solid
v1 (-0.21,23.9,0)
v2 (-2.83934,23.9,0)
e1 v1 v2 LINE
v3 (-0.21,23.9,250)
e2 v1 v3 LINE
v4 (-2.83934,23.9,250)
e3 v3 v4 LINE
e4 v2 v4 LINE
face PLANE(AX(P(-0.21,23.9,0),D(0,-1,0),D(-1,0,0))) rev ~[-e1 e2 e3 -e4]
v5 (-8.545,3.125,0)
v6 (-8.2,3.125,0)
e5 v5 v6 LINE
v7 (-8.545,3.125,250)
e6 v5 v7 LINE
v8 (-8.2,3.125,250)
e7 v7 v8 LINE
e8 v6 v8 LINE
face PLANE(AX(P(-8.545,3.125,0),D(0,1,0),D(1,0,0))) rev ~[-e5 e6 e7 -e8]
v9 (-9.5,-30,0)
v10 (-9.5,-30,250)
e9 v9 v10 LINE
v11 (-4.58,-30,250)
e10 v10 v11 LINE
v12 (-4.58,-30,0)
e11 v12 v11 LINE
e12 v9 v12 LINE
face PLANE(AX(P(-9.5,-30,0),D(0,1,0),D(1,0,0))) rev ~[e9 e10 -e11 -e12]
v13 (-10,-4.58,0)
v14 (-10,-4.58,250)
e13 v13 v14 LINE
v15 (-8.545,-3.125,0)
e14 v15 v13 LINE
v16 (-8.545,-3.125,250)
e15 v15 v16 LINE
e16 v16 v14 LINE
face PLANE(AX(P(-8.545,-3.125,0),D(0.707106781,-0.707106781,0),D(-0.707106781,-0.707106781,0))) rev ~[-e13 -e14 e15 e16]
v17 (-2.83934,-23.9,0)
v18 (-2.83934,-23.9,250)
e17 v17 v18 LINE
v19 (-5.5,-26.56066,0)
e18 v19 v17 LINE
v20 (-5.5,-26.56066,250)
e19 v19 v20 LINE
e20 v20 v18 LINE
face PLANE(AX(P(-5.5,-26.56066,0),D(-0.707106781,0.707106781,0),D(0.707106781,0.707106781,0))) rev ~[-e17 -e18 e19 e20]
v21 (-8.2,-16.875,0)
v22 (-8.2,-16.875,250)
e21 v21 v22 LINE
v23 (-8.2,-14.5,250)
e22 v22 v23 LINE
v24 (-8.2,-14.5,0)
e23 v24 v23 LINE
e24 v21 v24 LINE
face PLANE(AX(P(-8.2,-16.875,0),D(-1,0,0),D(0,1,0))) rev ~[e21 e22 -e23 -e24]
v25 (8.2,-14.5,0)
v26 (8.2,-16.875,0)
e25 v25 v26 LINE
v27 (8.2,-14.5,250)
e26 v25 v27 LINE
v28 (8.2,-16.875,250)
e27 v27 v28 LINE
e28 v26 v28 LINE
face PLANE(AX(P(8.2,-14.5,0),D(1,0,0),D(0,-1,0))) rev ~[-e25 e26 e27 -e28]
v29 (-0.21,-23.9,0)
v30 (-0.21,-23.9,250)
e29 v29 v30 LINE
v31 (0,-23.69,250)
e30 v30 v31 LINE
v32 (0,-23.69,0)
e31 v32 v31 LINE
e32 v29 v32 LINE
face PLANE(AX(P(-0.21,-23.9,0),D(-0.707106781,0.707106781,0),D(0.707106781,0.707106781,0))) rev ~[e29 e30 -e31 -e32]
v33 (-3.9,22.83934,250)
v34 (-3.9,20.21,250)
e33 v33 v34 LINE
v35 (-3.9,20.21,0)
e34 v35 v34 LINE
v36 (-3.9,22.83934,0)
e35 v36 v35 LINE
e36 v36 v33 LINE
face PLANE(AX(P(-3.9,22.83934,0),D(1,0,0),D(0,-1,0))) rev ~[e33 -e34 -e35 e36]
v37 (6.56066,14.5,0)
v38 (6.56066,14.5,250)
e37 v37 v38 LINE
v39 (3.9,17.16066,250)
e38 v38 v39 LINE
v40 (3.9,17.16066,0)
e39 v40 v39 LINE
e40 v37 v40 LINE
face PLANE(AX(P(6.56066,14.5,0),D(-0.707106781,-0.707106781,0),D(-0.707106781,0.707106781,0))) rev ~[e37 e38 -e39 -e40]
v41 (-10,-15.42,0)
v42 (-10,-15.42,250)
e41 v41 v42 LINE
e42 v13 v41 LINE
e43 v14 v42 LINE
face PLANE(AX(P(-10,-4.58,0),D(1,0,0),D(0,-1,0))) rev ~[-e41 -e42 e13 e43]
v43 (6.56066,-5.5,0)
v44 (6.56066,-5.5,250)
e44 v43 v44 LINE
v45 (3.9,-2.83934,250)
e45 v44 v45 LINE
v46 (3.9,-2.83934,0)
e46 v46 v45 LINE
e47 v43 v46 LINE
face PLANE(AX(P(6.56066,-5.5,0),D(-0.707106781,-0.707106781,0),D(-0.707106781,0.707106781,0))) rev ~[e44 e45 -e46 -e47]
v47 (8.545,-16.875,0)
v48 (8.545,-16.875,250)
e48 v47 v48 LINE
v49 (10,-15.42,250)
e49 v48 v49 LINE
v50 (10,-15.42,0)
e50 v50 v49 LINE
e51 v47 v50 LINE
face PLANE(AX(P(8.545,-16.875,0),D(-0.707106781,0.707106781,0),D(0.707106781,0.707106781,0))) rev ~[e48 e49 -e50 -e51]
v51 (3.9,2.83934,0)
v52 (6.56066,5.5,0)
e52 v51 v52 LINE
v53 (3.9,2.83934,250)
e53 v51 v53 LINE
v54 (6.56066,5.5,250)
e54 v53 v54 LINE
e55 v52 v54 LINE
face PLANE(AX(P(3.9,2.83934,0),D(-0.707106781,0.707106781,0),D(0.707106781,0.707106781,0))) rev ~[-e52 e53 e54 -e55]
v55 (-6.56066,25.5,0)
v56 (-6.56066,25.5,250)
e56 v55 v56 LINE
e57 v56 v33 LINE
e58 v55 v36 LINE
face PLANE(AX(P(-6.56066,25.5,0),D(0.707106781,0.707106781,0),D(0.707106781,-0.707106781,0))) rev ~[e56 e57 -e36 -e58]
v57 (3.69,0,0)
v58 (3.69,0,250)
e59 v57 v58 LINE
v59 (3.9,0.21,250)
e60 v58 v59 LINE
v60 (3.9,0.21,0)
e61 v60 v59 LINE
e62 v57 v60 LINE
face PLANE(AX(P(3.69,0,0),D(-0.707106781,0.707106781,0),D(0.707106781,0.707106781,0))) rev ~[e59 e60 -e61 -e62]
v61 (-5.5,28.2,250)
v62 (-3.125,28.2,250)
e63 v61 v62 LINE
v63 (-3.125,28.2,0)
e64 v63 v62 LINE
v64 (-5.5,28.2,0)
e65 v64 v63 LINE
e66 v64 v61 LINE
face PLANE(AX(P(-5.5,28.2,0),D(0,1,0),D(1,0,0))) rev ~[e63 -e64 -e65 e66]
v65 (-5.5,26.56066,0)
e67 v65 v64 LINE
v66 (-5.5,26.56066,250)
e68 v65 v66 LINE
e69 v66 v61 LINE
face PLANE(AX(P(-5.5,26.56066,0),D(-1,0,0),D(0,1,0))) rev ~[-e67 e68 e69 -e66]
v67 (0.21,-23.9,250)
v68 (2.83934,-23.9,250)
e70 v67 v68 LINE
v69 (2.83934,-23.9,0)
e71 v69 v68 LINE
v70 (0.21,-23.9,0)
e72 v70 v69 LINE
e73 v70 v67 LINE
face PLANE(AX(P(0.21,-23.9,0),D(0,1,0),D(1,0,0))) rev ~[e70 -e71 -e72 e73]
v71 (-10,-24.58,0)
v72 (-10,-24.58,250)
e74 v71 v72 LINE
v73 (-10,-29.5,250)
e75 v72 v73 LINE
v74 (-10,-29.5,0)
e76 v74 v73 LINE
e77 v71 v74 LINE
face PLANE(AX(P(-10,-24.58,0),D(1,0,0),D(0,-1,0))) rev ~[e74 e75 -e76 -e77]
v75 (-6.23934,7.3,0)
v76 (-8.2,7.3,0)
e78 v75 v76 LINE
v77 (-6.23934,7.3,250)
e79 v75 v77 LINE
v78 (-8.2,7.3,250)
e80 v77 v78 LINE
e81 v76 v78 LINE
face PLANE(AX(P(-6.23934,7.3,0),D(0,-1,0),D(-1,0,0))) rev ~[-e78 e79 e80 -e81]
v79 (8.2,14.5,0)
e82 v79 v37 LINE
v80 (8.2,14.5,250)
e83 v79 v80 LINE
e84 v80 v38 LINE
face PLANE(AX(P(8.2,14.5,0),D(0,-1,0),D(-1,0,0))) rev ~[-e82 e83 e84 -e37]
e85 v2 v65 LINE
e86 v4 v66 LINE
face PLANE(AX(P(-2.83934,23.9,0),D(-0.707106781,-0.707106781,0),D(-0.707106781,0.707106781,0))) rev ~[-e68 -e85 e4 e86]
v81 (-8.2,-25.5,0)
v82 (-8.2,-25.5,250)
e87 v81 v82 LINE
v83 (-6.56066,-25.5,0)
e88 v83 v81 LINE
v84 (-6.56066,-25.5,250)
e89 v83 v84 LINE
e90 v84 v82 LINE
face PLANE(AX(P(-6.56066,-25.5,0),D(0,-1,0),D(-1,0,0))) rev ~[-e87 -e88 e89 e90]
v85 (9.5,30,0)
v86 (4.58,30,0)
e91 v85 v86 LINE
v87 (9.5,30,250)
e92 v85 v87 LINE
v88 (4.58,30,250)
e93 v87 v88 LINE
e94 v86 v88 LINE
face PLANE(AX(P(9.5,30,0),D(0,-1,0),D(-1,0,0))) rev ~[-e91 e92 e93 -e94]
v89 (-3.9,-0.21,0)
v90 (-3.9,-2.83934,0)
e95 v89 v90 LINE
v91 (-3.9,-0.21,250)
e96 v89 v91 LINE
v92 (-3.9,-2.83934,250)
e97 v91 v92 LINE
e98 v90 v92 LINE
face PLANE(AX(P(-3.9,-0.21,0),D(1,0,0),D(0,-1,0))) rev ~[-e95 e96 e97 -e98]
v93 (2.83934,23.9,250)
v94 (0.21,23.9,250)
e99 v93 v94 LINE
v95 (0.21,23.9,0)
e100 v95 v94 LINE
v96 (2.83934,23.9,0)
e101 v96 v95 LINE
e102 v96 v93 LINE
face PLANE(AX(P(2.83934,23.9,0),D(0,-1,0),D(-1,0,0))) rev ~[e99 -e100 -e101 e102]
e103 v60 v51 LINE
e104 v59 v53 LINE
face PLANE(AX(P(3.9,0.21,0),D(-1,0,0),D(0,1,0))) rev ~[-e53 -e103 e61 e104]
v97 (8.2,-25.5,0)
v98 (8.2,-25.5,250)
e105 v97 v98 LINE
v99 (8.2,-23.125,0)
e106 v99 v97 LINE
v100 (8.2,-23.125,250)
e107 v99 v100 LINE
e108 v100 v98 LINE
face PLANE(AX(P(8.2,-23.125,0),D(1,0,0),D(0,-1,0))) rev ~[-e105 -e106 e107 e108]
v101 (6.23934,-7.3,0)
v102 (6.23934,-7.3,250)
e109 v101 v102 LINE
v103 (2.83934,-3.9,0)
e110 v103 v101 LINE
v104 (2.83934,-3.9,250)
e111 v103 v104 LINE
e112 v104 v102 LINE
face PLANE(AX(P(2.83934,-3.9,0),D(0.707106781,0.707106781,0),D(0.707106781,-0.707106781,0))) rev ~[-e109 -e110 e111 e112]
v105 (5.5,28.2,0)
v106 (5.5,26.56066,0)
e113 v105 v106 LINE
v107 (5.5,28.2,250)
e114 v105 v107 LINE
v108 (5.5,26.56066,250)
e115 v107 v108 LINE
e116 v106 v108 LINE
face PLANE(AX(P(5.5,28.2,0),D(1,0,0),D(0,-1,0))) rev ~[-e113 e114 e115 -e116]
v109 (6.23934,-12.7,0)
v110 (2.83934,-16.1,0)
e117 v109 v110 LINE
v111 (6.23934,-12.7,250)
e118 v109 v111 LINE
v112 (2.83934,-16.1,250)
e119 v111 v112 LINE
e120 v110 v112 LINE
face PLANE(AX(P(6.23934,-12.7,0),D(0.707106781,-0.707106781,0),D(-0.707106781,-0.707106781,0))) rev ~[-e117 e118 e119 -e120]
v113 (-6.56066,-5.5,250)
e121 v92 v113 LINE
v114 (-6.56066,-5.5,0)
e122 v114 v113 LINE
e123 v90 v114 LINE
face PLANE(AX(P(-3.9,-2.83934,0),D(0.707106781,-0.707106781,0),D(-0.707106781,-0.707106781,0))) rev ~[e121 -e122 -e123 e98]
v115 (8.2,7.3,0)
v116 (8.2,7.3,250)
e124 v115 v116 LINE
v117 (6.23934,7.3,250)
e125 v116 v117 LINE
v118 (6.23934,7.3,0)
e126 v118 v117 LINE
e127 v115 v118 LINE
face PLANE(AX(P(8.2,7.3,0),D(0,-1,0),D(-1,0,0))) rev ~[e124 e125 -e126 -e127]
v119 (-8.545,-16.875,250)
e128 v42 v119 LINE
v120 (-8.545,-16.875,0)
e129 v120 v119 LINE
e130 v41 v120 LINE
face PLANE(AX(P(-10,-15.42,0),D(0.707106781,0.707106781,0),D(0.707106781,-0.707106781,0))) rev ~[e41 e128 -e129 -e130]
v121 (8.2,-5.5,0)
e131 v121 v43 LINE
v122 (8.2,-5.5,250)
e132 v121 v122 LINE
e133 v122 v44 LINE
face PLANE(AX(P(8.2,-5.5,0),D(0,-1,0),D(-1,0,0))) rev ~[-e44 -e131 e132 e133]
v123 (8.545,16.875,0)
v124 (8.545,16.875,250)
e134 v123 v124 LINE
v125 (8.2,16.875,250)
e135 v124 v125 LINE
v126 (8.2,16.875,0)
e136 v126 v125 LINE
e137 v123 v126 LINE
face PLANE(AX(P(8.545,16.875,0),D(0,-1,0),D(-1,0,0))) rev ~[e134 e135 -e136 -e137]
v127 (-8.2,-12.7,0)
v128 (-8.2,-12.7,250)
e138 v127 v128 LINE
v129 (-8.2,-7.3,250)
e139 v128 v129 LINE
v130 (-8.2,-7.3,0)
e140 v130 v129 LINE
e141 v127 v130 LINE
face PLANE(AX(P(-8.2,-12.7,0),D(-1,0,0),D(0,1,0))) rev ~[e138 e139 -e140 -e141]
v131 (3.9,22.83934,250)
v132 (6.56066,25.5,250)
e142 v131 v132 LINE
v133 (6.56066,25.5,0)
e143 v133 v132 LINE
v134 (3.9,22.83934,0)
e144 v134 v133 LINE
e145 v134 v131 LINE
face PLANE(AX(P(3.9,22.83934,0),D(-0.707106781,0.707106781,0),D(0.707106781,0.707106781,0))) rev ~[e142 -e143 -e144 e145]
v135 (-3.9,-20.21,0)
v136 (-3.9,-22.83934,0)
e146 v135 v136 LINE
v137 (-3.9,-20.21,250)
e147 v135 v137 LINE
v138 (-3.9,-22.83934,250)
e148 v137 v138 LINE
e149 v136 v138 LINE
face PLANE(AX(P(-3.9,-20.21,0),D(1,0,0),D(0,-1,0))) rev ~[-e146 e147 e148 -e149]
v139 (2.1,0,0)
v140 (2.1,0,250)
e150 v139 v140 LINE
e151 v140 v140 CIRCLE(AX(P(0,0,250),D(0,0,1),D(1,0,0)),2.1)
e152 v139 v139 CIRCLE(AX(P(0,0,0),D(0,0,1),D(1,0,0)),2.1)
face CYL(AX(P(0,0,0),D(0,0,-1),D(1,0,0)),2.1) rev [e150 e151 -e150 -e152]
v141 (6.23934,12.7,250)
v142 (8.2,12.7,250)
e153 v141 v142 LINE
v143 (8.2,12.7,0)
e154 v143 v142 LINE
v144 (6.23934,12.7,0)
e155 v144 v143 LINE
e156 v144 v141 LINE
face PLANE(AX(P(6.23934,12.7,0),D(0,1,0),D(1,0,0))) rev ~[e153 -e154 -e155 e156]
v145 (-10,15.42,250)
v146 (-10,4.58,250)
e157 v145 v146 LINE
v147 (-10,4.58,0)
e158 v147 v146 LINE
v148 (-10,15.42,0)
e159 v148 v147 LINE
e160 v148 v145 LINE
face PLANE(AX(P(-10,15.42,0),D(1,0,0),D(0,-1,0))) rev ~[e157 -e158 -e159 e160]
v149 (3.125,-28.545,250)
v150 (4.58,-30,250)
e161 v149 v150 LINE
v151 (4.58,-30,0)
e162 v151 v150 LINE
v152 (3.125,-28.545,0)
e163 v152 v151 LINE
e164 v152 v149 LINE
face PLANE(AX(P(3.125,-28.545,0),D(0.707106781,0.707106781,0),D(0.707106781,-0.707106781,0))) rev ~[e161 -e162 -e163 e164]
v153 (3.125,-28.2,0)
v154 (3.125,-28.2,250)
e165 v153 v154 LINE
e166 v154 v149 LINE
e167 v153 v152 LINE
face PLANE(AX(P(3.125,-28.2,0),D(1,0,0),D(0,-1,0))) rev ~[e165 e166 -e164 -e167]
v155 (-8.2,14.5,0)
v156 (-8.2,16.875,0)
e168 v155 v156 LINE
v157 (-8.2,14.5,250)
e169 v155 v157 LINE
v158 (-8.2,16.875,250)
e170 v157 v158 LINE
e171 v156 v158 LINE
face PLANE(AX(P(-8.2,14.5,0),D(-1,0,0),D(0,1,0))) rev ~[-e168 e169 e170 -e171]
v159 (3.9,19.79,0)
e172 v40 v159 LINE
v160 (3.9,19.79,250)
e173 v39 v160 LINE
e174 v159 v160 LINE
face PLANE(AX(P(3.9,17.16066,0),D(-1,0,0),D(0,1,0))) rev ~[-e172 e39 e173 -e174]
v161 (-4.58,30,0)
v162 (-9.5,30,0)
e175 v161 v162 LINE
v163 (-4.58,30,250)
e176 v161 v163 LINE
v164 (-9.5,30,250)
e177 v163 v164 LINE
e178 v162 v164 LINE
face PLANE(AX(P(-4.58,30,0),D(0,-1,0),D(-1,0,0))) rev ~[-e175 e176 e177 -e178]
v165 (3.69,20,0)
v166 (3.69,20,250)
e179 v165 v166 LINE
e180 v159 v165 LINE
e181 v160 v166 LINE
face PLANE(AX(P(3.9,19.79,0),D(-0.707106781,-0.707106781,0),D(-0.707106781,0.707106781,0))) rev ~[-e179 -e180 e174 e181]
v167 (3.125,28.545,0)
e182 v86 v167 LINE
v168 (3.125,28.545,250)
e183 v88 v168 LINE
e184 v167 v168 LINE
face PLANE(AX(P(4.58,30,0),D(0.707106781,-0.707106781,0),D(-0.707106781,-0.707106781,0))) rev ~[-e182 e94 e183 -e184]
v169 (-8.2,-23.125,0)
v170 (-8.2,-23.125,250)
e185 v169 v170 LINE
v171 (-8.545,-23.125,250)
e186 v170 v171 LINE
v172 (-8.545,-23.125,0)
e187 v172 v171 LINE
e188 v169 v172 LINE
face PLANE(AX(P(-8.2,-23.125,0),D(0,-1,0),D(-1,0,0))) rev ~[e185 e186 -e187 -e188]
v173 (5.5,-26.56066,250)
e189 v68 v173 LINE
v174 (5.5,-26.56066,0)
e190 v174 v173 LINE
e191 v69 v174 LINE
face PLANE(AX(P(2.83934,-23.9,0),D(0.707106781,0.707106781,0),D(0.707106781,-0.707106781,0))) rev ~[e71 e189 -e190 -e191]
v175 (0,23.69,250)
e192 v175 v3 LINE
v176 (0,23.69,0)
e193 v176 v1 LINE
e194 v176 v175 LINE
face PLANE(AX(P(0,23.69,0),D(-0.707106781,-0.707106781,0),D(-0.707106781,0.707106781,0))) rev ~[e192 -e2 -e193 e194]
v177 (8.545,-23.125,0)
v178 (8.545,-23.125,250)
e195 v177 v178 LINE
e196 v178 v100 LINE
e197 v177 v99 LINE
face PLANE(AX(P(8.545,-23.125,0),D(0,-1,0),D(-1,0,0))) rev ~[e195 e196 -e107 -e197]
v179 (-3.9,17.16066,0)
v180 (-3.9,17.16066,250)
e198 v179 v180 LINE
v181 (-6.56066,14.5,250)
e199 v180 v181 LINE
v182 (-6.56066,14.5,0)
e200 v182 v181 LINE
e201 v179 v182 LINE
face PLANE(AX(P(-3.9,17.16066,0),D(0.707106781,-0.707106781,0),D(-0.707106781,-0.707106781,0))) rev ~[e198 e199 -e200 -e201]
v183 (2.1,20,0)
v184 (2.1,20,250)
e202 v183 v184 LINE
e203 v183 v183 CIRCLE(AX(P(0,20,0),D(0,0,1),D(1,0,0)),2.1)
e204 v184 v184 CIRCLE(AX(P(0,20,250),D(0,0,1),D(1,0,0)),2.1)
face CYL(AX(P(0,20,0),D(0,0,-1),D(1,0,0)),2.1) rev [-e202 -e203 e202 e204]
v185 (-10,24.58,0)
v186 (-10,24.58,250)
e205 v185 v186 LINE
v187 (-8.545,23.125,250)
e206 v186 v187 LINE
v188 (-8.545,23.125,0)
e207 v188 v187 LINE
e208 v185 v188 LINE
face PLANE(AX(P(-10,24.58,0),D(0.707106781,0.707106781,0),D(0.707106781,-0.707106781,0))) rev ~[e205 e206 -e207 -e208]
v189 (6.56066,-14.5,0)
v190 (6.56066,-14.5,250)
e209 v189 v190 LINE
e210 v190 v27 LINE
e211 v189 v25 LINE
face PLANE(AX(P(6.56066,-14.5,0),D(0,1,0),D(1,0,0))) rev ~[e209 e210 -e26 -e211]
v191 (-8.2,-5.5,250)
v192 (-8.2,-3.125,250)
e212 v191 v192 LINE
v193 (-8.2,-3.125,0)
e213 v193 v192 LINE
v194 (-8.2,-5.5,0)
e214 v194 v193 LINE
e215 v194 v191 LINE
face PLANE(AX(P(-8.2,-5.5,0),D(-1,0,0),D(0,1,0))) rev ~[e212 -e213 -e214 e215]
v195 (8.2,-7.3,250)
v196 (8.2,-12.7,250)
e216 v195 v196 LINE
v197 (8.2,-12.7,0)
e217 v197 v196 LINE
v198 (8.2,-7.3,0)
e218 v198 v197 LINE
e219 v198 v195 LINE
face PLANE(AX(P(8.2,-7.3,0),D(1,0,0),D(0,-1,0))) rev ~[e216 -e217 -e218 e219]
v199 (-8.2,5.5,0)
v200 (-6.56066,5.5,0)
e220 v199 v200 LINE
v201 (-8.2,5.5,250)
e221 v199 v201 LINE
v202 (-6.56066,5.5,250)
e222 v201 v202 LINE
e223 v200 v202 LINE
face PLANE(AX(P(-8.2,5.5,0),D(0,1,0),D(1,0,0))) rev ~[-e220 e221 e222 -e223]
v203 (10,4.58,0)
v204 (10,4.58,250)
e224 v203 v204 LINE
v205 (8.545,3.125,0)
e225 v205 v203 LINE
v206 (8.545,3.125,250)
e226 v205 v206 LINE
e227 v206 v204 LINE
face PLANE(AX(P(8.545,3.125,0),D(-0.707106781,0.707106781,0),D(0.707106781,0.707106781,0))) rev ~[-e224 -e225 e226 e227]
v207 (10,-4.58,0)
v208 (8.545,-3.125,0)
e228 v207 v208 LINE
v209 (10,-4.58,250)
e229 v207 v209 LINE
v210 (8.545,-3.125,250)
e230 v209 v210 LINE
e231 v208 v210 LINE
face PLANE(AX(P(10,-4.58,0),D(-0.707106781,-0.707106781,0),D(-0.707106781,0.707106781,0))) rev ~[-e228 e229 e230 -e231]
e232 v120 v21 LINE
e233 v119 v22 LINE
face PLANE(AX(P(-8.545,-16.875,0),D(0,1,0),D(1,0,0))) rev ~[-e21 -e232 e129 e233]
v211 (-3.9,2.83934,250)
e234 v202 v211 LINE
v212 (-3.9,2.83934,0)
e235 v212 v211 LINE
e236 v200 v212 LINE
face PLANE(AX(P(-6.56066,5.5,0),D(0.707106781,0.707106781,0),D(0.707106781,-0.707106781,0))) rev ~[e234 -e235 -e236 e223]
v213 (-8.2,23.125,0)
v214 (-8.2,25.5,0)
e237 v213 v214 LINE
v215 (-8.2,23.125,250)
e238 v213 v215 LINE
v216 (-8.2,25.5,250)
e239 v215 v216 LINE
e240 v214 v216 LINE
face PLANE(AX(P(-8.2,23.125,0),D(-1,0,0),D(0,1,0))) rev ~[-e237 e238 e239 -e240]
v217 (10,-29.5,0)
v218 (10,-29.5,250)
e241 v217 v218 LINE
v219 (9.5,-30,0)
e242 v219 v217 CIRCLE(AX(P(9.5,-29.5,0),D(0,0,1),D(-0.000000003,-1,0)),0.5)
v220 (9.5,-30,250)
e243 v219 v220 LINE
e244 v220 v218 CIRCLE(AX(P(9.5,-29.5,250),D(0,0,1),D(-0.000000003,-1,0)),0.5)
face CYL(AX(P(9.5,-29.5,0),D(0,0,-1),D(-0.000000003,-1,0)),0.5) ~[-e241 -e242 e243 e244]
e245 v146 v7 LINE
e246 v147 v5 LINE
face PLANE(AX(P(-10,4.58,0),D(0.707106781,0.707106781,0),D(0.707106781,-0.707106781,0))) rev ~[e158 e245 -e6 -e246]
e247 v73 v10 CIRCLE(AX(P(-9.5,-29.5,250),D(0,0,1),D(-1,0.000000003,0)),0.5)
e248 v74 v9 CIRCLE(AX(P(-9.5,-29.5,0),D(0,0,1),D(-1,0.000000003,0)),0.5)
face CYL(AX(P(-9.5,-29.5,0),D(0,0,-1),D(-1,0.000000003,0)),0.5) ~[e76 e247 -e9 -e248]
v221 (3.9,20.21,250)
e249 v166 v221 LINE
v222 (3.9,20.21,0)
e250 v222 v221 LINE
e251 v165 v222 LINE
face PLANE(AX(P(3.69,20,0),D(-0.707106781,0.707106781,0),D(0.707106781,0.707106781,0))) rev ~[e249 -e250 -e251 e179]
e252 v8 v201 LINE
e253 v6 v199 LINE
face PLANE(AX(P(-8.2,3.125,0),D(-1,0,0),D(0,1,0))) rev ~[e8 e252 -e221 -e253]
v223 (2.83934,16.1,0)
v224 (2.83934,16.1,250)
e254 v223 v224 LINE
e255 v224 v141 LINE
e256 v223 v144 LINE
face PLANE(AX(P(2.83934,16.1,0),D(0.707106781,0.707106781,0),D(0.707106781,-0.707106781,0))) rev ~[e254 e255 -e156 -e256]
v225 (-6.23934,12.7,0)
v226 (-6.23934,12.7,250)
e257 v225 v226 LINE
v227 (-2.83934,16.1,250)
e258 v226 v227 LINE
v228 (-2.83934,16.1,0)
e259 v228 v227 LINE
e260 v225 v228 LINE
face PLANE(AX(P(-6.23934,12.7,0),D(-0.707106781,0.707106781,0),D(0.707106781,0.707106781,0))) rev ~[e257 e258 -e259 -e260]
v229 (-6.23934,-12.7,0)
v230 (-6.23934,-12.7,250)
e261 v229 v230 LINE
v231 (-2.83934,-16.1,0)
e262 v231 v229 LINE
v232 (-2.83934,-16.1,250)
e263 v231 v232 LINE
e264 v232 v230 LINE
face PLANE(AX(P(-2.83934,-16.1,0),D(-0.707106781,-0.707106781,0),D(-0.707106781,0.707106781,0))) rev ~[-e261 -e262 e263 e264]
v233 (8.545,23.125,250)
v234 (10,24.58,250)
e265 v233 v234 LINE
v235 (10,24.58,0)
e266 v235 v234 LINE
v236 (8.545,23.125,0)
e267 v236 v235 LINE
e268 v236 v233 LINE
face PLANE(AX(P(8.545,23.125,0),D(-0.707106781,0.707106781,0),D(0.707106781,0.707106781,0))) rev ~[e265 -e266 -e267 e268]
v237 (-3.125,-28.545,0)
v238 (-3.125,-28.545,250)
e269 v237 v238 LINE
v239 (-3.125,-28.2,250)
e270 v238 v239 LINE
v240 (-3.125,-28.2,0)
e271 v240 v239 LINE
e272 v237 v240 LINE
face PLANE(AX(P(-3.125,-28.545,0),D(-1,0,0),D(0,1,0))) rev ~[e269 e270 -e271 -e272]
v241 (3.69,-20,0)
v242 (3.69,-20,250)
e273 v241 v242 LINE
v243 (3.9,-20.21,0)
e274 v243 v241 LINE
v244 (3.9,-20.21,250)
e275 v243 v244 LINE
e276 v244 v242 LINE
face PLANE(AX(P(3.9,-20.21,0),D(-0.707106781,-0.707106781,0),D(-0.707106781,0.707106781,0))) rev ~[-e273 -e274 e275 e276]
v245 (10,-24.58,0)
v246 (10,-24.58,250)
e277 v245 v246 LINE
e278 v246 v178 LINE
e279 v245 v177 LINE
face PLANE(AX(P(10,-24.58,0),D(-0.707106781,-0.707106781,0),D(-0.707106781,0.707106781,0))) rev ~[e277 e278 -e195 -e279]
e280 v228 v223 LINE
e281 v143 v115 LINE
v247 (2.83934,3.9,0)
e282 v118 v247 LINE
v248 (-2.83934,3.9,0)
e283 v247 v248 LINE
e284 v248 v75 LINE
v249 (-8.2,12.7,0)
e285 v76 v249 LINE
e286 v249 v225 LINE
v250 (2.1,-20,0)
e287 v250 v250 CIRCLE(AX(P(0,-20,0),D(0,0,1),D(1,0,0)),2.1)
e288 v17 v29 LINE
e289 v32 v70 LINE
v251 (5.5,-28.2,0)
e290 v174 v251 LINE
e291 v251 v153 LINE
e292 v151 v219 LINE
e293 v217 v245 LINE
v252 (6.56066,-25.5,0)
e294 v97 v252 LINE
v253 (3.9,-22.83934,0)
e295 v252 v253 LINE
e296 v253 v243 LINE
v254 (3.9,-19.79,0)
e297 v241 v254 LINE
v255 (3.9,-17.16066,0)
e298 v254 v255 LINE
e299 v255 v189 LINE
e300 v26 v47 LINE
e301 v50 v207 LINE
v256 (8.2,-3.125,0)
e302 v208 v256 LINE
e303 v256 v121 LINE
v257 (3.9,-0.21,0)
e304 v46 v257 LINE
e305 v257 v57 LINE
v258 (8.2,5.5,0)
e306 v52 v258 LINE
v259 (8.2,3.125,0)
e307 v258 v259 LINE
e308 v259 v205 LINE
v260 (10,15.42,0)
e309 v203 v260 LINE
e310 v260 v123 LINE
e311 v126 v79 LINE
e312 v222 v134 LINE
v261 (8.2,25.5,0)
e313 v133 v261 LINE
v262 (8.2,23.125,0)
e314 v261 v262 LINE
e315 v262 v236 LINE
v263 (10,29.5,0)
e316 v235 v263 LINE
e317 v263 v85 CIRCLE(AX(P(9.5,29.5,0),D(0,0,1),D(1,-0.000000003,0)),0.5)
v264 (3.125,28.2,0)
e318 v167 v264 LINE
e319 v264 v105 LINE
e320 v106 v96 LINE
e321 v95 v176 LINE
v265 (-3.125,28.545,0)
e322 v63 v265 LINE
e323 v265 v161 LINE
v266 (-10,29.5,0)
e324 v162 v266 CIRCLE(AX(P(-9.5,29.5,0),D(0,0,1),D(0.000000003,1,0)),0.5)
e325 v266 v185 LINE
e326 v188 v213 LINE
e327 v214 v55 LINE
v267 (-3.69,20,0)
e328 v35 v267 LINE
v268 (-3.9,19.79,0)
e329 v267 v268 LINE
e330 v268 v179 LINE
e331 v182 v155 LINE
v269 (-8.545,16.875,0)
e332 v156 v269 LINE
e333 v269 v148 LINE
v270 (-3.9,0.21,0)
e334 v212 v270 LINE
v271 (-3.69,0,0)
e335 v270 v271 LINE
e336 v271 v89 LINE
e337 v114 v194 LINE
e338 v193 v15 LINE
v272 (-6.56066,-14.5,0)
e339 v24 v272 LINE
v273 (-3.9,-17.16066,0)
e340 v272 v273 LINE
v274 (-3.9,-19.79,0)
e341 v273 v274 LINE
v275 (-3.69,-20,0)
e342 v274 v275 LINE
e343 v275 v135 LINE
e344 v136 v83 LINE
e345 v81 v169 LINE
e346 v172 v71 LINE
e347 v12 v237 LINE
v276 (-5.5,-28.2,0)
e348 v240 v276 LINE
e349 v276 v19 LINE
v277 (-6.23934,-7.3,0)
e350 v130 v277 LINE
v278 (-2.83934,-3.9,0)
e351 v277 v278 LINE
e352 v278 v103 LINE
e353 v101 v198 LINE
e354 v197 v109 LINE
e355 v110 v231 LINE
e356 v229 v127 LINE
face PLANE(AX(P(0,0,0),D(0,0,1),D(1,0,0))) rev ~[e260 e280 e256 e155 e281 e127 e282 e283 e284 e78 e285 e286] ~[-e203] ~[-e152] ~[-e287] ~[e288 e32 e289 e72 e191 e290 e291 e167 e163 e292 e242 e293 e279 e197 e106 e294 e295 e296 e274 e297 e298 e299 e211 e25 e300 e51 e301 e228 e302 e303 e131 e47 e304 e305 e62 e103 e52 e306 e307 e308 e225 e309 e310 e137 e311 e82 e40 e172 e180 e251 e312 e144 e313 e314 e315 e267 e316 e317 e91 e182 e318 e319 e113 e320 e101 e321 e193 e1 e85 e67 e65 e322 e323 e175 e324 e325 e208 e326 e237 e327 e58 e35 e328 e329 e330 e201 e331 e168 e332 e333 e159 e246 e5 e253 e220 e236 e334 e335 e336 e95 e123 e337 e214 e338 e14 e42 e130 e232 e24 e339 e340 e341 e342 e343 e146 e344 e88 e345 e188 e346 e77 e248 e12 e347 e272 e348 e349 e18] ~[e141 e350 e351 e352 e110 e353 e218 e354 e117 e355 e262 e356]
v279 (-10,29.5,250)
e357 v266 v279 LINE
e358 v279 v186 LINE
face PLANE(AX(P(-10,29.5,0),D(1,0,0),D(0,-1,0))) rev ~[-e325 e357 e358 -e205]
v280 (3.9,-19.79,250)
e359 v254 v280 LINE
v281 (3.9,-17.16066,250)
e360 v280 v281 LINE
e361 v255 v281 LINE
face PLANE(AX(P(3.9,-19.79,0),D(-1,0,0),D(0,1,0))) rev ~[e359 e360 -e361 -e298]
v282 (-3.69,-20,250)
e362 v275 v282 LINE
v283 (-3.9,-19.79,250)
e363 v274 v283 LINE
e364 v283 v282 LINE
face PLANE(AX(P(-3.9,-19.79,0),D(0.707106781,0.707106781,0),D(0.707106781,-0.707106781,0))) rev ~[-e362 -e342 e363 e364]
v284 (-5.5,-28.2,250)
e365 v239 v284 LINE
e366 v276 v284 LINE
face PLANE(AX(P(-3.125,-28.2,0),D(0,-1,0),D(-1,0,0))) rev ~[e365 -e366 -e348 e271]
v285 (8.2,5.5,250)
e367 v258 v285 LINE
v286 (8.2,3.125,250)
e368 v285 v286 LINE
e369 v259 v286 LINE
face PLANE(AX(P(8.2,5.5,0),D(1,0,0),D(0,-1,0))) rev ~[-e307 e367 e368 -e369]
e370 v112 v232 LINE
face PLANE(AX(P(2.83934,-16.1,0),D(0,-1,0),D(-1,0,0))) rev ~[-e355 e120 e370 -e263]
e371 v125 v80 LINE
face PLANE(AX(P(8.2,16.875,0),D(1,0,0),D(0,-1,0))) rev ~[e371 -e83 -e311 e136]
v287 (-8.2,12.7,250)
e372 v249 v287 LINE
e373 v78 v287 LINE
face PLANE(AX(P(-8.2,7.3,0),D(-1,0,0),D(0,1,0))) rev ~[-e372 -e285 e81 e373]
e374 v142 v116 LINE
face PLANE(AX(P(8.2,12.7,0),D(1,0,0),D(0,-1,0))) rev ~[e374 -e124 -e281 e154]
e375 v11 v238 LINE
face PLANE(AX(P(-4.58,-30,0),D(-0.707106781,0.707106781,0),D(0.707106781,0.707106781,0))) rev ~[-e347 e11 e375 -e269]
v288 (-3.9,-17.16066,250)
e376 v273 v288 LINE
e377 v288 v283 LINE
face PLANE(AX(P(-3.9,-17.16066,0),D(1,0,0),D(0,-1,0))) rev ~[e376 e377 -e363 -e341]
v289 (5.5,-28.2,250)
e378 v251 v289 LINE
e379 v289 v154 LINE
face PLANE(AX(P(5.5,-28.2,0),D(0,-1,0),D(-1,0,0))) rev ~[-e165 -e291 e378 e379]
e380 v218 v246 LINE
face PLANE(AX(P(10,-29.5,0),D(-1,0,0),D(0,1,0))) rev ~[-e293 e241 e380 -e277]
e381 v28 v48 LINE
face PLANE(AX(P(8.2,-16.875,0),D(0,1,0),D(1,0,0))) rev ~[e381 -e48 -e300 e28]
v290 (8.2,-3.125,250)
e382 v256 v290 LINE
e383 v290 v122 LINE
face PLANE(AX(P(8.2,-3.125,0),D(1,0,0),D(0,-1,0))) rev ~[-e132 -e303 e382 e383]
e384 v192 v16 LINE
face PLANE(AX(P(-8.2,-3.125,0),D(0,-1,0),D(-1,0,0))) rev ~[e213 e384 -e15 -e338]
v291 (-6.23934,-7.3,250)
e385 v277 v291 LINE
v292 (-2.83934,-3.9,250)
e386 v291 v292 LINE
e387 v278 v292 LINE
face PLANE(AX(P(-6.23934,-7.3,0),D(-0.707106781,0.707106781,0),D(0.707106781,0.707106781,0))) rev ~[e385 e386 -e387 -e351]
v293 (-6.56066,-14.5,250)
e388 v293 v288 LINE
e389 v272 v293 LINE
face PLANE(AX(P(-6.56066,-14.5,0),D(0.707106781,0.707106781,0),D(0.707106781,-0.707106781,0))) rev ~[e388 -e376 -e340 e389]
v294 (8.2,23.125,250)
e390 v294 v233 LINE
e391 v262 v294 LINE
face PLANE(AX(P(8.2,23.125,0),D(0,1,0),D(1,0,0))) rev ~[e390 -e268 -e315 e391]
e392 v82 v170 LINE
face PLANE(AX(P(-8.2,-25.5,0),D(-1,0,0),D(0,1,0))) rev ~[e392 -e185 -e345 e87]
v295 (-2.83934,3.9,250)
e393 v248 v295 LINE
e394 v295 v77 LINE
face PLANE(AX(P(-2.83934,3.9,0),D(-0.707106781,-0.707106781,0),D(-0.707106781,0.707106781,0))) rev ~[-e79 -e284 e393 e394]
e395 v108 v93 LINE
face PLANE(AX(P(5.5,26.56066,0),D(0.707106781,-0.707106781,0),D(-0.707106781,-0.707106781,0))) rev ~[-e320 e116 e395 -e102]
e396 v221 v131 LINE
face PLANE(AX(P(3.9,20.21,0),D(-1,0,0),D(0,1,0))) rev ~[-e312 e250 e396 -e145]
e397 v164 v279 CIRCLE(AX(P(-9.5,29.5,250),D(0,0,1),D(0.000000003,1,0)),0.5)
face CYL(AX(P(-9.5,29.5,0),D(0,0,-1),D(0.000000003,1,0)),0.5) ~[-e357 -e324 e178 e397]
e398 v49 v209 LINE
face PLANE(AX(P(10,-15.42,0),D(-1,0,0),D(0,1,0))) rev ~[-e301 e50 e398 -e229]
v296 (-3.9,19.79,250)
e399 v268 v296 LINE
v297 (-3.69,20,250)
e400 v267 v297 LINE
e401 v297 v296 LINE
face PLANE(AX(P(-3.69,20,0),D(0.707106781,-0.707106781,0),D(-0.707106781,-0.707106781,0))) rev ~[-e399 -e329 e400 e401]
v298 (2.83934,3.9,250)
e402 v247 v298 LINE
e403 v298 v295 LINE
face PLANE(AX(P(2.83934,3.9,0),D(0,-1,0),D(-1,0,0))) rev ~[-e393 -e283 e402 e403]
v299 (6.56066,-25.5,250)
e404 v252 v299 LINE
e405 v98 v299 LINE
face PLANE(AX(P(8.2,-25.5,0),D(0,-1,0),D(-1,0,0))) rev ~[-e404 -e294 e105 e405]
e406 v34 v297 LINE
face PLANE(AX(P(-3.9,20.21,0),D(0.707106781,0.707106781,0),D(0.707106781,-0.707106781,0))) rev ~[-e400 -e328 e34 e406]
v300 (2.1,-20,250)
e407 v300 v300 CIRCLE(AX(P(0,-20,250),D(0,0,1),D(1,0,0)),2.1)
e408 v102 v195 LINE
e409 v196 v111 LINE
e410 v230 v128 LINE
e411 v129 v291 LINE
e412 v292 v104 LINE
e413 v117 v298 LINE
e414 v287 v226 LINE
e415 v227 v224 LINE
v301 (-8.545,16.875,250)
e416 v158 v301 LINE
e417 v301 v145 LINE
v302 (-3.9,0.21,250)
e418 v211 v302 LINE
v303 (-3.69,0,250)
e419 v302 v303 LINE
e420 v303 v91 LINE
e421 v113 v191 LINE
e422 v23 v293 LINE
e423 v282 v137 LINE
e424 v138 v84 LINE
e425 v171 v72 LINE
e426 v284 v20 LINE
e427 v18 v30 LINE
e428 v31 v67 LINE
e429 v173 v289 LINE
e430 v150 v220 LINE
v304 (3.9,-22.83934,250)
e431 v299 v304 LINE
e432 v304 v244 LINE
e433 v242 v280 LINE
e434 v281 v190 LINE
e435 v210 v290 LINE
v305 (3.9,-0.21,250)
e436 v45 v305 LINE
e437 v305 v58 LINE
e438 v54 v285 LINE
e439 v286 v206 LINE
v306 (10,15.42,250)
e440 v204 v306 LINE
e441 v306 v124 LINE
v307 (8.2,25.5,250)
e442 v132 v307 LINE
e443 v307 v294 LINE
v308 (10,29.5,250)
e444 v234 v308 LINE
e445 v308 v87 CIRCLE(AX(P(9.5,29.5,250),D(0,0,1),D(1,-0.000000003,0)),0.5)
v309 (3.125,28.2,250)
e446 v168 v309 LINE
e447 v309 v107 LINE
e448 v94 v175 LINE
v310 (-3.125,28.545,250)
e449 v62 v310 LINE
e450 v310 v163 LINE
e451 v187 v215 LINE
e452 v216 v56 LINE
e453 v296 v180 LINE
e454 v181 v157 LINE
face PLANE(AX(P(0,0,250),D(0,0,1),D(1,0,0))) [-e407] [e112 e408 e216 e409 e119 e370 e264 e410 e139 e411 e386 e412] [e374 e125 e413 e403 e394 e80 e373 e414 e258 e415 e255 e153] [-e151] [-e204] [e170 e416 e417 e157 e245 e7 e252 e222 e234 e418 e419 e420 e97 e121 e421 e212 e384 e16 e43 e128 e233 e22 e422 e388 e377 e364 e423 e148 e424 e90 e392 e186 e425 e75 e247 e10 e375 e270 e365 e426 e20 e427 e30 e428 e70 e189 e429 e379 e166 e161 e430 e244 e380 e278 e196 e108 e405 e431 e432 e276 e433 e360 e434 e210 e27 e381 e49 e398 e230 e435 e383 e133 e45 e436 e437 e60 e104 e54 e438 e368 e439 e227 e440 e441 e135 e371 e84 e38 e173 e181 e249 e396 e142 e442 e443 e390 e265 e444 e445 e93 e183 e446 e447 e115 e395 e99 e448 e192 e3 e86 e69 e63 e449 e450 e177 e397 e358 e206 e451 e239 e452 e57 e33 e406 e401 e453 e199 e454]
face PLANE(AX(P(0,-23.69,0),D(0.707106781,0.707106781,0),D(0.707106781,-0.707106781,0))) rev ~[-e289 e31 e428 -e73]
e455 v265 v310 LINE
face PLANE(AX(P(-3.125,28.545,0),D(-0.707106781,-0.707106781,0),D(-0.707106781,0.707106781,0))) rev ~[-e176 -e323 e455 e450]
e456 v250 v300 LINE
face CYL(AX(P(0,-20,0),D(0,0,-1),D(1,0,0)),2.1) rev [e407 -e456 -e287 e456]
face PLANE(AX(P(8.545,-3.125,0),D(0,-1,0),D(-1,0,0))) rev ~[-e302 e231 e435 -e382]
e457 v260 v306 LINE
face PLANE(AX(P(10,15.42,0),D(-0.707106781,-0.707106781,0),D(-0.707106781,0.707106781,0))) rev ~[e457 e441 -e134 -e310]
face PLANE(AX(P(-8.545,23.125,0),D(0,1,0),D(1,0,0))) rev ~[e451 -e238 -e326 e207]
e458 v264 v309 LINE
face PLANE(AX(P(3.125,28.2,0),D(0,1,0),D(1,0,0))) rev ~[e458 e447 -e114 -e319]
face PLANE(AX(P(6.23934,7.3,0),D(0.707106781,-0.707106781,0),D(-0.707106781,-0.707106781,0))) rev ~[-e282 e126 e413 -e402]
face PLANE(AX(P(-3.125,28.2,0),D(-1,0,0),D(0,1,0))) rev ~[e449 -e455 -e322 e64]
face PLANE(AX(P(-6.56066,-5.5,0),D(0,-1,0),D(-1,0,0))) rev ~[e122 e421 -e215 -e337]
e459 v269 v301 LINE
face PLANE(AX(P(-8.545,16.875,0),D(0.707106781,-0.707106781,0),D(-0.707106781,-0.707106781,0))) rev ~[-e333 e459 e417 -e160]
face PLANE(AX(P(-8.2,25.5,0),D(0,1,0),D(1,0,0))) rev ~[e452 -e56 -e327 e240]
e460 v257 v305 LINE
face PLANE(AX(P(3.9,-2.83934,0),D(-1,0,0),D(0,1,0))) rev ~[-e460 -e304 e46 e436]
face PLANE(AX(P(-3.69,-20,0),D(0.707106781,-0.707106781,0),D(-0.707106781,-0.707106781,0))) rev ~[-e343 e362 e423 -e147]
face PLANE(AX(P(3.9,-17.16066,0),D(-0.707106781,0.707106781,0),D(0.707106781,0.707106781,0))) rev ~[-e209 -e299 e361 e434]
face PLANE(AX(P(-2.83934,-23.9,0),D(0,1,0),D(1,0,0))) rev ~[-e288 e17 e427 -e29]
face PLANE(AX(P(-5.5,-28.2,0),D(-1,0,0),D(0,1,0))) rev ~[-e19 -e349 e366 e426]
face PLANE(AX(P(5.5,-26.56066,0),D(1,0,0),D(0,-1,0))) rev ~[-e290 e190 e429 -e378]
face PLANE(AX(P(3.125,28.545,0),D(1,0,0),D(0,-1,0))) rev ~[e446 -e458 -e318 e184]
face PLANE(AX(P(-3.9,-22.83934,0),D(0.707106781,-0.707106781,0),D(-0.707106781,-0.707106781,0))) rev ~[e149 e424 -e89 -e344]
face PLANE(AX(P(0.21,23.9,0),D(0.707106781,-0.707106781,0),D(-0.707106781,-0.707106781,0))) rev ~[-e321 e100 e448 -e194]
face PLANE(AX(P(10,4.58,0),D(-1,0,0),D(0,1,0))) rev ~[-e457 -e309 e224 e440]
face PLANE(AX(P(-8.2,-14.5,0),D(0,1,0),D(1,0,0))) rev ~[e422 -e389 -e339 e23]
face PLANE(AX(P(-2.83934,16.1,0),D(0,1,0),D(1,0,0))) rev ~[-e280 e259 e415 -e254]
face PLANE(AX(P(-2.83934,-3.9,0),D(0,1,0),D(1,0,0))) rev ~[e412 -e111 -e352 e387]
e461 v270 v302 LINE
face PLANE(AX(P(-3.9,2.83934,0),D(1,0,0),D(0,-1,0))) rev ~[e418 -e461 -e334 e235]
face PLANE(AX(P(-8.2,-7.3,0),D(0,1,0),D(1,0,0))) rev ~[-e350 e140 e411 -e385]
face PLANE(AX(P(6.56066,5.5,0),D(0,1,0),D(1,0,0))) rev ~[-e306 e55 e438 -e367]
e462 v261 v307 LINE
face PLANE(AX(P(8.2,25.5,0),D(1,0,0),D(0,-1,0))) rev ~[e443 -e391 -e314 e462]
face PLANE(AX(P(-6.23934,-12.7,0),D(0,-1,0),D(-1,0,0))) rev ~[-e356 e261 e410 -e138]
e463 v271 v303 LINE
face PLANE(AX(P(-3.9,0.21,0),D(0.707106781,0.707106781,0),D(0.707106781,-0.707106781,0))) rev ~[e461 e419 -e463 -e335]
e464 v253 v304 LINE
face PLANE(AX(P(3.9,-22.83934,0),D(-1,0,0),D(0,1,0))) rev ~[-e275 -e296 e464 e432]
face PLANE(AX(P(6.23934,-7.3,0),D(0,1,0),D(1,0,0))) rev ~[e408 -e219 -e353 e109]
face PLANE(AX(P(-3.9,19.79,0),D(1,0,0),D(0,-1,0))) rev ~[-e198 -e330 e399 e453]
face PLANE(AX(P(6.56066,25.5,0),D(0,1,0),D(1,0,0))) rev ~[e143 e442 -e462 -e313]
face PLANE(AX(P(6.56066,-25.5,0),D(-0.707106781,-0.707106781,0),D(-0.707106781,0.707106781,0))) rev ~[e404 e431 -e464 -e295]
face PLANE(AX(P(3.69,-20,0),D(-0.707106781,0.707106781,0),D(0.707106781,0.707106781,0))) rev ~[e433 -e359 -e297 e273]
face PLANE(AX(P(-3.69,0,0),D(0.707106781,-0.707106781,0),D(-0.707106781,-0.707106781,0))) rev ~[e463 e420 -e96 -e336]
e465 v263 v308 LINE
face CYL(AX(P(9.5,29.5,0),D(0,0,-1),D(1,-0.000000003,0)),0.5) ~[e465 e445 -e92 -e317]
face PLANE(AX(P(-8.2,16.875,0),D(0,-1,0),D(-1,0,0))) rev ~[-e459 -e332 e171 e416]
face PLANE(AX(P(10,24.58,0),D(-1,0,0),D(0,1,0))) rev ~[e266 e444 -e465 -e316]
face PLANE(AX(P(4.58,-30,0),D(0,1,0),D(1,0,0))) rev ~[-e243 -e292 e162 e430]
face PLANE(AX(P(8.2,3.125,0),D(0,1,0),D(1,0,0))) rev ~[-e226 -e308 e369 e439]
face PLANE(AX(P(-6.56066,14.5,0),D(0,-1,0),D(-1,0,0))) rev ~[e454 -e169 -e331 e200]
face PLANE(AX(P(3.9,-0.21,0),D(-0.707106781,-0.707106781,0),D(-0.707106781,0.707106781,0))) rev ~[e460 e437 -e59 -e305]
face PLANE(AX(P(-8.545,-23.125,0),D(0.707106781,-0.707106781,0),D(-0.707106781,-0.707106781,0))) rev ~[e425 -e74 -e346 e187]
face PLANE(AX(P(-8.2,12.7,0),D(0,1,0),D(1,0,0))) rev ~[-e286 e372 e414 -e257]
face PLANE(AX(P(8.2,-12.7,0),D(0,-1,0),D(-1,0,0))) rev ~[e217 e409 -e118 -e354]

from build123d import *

# Parameters (mm, degrees)
SKETCH1_R           = 2.1
BOSS_EXTRUDE1_DEPTH = 250


with BuildPart() as part:
    # Sketch1 → Boss-Extrude1 (new body)
    with BuildSketch(Plane.XY):
        with BuildLine():
            Line((4.58, -30), (9.5, -30))
            ThreePointArc((9.5, -30), (9.853553391, -29.853553391), (10, -29.5))
            Line((10, -29.5), (10, -24.58))
            Line((10, -24.58), (8.545, -23.125))
            Line((8.545, -23.125), (8.2, -23.125))
            Line((8.2, -23.125), (8.2, -25.5))
            Line((8.2, -25.5), (6.560660172, -25.5))
            Line((6.560660172, -25.5), (3.9, -22.839339828))
            Line((3.9, -22.839339828), (3.9, -20.21))
            Line((3.9, -20.21), (3.69, -20))
            Line((3.69, -20), (3.9, -19.79))
            Line((3.9, -19.79), (3.9, -17.160660172))
            Line((3.9, -17.160660172), (6.560660172, -14.5))
            Line((6.560660172, -14.5), (8.2, -14.5))
            Line((8.2, -14.5), (8.2, -16.875))
            Line((8.2, -16.875), (8.545, -16.875))
            Line((8.545, -16.875), (10, -15.42))
            Line((10, -15.42), (10, -4.58))
            Line((10, -4.58), (8.545, -3.125))
            Line((8.545, -3.125), (8.2, -3.125))
            Line((8.2, -3.125), (8.2, -5.5))
            Line((8.2, -5.5), (6.560660172, -5.5))
            Line((6.560660172, -5.5), (3.9, -2.839339828))
            Line((3.9, -2.839339828), (3.9, -0.21))
            Line((3.9, -0.21), (3.69, 0))
            Line((3.69, 0), (3.9, 0.21))
            Line((3.9, 0.21), (3.9, 2.839339828))
            Line((3.9, 2.839339828), (6.560660172, 5.5))
            Line((6.560660172, 5.5), (8.2, 5.5))
            Line((8.2, 5.5), (8.2, 3.125))
            Line((8.2, 3.125), (8.545, 3.125))
            Line((8.545, 3.125), (10, 4.58))
            Line((10, 4.58), (10, 15.42))
            Line((10, 15.42), (8.545, 16.875))
            Line((8.545, 16.875), (8.2, 16.875))
            Line((8.2, 16.875), (8.2, 14.5))
            Line((8.2, 14.5), (6.560660172, 14.5))
            Line((6.560660172, 14.5), (3.9, 17.160660172))
            Line((3.9, 17.160660172), (3.9, 19.79))
            Line((3.9, 19.79), (3.69, 20))
            Line((3.69, 20), (3.9, 20.21))
            Line((3.9, 20.21), (3.9, 22.839339828))
            Line((3.9, 22.839339828), (6.560660172, 25.5))
            Line((6.560660172, 25.5), (8.2, 25.5))
            Line((8.2, 25.5), (8.2, 23.125))
            Line((8.2, 23.125), (8.545, 23.125))
            Line((8.545, 23.125), (10, 24.58))
            Line((10, 24.58), (10, 29.5))
            ThreePointArc((10, 29.5), (9.853553391, 29.853553391), (9.5, 30))
            Line((9.5, 30), (4.58, 30))
            Line((4.58, 30), (3.125, 28.545))
            Line((3.125, 28.545), (3.125, 28.2))
            Line((3.125, 28.2), (5.5, 28.2))
            Line((5.5, 28.2), (5.5, 26.560660172))
            Line((5.5, 26.560660172), (2.839339828, 23.9))
            Line((2.839339828, 23.9), (0.21, 23.9))
            Line((0.21, 23.9), (0, 23.69))
            Line((0, 23.69), (-0.21, 23.9))
            Line((-0.21, 23.9), (-2.839339828, 23.9))
            Line((-2.839339828, 23.9), (-5.5, 26.560660172))
            Line((-5.5, 26.560660172), (-5.5, 28.2))
            Line((-5.5, 28.2), (-3.125, 28.2))
            Line((-3.125, 28.2), (-3.125, 28.545))
            Line((-3.125, 28.545), (-4.58, 30))
            Line((-4.58, 30), (-9.5, 30))
            ThreePointArc((-9.5, 30), (-9.853553391, 29.853553391), (-10, 29.5))
            Line((-10, 29.5), (-10, 24.58))
            Line((-10, 24.58), (-8.545, 23.125))
            Line((-8.545, 23.125), (-8.2, 23.125))
            Line((-8.2, 23.125), (-8.2, 25.5))
            Line((-8.2, 25.5), (-6.560660172, 25.5))
            Line((-6.560660172, 25.5), (-3.9, 22.839339828))
            Line((-3.9, 22.839339828), (-3.9, 20.21))
            Line((-3.9, 20.21), (-3.69, 20))
            Line((-3.69, 20), (-3.9, 19.79))
            Line((-3.9, 19.79), (-3.9, 17.160660172))
            Line((-3.9, 17.160660172), (-6.560660172, 14.5))
            Line((-6.560660172, 14.5), (-8.2, 14.5))
            Line((-8.2, 14.5), (-8.2, 16.875))
            Line((-8.2, 16.875), (-8.545, 16.875))
            Line((-8.545, 16.875), (-10, 15.42))
            Line((-10, 15.42), (-10, 4.58))
            Line((-10, 4.58), (-8.545, 3.125))
            Line((-8.545, 3.125), (-8.2, 3.125))
            Line((-8.2, 3.125), (-8.2, 5.5))
            Line((-8.2, 5.5), (-6.560660172, 5.5))
            Line((-6.560660172, 5.5), (-3.9, 2.839339828))
            Line((-3.9, 2.839339828), (-3.9, 0.21))
            Line((-3.9, 0.21), (-3.69, 0))
            Line((-3.69, 0), (-3.9, -0.21))
            Line((-3.9, -0.21), (-3.9, -2.839339828))
            Line((-3.9, -2.839339828), (-6.560660172, -5.5))
            Line((-6.560660172, -5.5), (-8.2, -5.5))
            Line((-8.2, -5.5), (-8.2, -3.125))
            Line((-8.2, -3.125), (-8.545, -3.125))
            Line((-8.545, -3.125), (-10, -4.58))
            Line((-10, -4.58), (-10, -15.42))
            Line((-10, -15.42), (-8.545, -16.875))
            Line((-8.545, -16.875), (-8.2, -16.875))
            Line((-8.2, -16.875), (-8.2, -14.5))
            Line((-8.2, -14.5), (-6.560660172, -14.5))
            Line((-6.560660172, -14.5), (-3.9, -17.160660172))
            Line((-3.9, -17.160660172), (-3.9, -19.79))
            Line((-3.9, -19.79), (-3.69, -20))
            Line((-3.69, -20), (-3.9, -20.21))
            Line((-3.9, -20.21), (-3.9, -22.839339828))
            Line((-3.9, -22.839339828), (-6.560660172, -25.5))
            Line((-6.560660172, -25.5), (-8.2, -25.5))
            Line((-8.2, -25.5), (-8.2, -23.125))
            Line((-8.2, -23.125), (-8.545, -23.125))
            Line((-8.545, -23.125), (-10, -24.58))
            Line((-10, -24.58), (-10, -29.5))
            ThreePointArc((-10, -29.5), (-9.853553391, -29.853553391), (-9.5, -30))
            Line((-9.5, -30), (-4.58, -30))
            Line((-4.58, -30), (-3.125, -28.545))
            Line((-3.125, -28.545), (-3.125, -28.2))
            Line((-3.125, -28.2), (-5.5, -28.2))
            Line((-5.5, -28.2), (-5.5, -26.560660172))
            Line((-5.5, -26.560660172), (-2.839339828, -23.9))
            Line((-2.839339828, -23.9), (-0.21, -23.9))
            Line((-0.21, -23.9), (0, -23.69))
            Line((0, -23.69), (0.21, -23.9))
            Line((0.21, -23.9), (2.839339828, -23.9))
            Line((2.839339828, -23.9), (5.5, -26.560660172))
            Line((5.5, -26.560660172), (5.5, -28.2))
            Line((5.5, -28.2), (3.125, -28.2))
            Line((3.125, -28.2), (3.125, -28.545))
            Line((3.125, -28.545), (4.58, -30))
        make_face()
        with Locations((0, -20)):
            Circle(SKETCH1_R, mode=Mode.SUBTRACT)
        Polygon((-6.239339828, -12.7), (-8.2, -12.7), (-8.2, -7.3), (-6.239339828, -7.3), (-2.839339828, -3.9), (2.839339828, -3.9), (6.239339828, -7.3), (8.2, -7.3), (8.2, -12.7), (6.239339828, -12.7), (2.839339828, -16.1), (-2.839339828, -16.1), align=None, mode=Mode.SUBTRACT)
        Polygon((-6.239339828, 7.3), (-8.2, 7.3), (-8.2, 12.7), (-6.239339828, 12.7), (-2.839339828, 16.1), (2.839339828, 16.1), (6.239339828, 12.7), (8.2, 12.7), (8.2, 7.3), (6.239339828, 7.3), (2.839339828, 3.9), (-2.839339828, 3.9), align=None, mode=Mode.SUBTRACT)
        with Locations((0, 20)):
            Circle(SKETCH1_R, mode=Mode.SUBTRACT)
        Circle(SKETCH1_R, mode=Mode.SUBTRACT)
    extrude(amount=BOSS_EXTRUDE1_DEPTH)


solid = part.part
